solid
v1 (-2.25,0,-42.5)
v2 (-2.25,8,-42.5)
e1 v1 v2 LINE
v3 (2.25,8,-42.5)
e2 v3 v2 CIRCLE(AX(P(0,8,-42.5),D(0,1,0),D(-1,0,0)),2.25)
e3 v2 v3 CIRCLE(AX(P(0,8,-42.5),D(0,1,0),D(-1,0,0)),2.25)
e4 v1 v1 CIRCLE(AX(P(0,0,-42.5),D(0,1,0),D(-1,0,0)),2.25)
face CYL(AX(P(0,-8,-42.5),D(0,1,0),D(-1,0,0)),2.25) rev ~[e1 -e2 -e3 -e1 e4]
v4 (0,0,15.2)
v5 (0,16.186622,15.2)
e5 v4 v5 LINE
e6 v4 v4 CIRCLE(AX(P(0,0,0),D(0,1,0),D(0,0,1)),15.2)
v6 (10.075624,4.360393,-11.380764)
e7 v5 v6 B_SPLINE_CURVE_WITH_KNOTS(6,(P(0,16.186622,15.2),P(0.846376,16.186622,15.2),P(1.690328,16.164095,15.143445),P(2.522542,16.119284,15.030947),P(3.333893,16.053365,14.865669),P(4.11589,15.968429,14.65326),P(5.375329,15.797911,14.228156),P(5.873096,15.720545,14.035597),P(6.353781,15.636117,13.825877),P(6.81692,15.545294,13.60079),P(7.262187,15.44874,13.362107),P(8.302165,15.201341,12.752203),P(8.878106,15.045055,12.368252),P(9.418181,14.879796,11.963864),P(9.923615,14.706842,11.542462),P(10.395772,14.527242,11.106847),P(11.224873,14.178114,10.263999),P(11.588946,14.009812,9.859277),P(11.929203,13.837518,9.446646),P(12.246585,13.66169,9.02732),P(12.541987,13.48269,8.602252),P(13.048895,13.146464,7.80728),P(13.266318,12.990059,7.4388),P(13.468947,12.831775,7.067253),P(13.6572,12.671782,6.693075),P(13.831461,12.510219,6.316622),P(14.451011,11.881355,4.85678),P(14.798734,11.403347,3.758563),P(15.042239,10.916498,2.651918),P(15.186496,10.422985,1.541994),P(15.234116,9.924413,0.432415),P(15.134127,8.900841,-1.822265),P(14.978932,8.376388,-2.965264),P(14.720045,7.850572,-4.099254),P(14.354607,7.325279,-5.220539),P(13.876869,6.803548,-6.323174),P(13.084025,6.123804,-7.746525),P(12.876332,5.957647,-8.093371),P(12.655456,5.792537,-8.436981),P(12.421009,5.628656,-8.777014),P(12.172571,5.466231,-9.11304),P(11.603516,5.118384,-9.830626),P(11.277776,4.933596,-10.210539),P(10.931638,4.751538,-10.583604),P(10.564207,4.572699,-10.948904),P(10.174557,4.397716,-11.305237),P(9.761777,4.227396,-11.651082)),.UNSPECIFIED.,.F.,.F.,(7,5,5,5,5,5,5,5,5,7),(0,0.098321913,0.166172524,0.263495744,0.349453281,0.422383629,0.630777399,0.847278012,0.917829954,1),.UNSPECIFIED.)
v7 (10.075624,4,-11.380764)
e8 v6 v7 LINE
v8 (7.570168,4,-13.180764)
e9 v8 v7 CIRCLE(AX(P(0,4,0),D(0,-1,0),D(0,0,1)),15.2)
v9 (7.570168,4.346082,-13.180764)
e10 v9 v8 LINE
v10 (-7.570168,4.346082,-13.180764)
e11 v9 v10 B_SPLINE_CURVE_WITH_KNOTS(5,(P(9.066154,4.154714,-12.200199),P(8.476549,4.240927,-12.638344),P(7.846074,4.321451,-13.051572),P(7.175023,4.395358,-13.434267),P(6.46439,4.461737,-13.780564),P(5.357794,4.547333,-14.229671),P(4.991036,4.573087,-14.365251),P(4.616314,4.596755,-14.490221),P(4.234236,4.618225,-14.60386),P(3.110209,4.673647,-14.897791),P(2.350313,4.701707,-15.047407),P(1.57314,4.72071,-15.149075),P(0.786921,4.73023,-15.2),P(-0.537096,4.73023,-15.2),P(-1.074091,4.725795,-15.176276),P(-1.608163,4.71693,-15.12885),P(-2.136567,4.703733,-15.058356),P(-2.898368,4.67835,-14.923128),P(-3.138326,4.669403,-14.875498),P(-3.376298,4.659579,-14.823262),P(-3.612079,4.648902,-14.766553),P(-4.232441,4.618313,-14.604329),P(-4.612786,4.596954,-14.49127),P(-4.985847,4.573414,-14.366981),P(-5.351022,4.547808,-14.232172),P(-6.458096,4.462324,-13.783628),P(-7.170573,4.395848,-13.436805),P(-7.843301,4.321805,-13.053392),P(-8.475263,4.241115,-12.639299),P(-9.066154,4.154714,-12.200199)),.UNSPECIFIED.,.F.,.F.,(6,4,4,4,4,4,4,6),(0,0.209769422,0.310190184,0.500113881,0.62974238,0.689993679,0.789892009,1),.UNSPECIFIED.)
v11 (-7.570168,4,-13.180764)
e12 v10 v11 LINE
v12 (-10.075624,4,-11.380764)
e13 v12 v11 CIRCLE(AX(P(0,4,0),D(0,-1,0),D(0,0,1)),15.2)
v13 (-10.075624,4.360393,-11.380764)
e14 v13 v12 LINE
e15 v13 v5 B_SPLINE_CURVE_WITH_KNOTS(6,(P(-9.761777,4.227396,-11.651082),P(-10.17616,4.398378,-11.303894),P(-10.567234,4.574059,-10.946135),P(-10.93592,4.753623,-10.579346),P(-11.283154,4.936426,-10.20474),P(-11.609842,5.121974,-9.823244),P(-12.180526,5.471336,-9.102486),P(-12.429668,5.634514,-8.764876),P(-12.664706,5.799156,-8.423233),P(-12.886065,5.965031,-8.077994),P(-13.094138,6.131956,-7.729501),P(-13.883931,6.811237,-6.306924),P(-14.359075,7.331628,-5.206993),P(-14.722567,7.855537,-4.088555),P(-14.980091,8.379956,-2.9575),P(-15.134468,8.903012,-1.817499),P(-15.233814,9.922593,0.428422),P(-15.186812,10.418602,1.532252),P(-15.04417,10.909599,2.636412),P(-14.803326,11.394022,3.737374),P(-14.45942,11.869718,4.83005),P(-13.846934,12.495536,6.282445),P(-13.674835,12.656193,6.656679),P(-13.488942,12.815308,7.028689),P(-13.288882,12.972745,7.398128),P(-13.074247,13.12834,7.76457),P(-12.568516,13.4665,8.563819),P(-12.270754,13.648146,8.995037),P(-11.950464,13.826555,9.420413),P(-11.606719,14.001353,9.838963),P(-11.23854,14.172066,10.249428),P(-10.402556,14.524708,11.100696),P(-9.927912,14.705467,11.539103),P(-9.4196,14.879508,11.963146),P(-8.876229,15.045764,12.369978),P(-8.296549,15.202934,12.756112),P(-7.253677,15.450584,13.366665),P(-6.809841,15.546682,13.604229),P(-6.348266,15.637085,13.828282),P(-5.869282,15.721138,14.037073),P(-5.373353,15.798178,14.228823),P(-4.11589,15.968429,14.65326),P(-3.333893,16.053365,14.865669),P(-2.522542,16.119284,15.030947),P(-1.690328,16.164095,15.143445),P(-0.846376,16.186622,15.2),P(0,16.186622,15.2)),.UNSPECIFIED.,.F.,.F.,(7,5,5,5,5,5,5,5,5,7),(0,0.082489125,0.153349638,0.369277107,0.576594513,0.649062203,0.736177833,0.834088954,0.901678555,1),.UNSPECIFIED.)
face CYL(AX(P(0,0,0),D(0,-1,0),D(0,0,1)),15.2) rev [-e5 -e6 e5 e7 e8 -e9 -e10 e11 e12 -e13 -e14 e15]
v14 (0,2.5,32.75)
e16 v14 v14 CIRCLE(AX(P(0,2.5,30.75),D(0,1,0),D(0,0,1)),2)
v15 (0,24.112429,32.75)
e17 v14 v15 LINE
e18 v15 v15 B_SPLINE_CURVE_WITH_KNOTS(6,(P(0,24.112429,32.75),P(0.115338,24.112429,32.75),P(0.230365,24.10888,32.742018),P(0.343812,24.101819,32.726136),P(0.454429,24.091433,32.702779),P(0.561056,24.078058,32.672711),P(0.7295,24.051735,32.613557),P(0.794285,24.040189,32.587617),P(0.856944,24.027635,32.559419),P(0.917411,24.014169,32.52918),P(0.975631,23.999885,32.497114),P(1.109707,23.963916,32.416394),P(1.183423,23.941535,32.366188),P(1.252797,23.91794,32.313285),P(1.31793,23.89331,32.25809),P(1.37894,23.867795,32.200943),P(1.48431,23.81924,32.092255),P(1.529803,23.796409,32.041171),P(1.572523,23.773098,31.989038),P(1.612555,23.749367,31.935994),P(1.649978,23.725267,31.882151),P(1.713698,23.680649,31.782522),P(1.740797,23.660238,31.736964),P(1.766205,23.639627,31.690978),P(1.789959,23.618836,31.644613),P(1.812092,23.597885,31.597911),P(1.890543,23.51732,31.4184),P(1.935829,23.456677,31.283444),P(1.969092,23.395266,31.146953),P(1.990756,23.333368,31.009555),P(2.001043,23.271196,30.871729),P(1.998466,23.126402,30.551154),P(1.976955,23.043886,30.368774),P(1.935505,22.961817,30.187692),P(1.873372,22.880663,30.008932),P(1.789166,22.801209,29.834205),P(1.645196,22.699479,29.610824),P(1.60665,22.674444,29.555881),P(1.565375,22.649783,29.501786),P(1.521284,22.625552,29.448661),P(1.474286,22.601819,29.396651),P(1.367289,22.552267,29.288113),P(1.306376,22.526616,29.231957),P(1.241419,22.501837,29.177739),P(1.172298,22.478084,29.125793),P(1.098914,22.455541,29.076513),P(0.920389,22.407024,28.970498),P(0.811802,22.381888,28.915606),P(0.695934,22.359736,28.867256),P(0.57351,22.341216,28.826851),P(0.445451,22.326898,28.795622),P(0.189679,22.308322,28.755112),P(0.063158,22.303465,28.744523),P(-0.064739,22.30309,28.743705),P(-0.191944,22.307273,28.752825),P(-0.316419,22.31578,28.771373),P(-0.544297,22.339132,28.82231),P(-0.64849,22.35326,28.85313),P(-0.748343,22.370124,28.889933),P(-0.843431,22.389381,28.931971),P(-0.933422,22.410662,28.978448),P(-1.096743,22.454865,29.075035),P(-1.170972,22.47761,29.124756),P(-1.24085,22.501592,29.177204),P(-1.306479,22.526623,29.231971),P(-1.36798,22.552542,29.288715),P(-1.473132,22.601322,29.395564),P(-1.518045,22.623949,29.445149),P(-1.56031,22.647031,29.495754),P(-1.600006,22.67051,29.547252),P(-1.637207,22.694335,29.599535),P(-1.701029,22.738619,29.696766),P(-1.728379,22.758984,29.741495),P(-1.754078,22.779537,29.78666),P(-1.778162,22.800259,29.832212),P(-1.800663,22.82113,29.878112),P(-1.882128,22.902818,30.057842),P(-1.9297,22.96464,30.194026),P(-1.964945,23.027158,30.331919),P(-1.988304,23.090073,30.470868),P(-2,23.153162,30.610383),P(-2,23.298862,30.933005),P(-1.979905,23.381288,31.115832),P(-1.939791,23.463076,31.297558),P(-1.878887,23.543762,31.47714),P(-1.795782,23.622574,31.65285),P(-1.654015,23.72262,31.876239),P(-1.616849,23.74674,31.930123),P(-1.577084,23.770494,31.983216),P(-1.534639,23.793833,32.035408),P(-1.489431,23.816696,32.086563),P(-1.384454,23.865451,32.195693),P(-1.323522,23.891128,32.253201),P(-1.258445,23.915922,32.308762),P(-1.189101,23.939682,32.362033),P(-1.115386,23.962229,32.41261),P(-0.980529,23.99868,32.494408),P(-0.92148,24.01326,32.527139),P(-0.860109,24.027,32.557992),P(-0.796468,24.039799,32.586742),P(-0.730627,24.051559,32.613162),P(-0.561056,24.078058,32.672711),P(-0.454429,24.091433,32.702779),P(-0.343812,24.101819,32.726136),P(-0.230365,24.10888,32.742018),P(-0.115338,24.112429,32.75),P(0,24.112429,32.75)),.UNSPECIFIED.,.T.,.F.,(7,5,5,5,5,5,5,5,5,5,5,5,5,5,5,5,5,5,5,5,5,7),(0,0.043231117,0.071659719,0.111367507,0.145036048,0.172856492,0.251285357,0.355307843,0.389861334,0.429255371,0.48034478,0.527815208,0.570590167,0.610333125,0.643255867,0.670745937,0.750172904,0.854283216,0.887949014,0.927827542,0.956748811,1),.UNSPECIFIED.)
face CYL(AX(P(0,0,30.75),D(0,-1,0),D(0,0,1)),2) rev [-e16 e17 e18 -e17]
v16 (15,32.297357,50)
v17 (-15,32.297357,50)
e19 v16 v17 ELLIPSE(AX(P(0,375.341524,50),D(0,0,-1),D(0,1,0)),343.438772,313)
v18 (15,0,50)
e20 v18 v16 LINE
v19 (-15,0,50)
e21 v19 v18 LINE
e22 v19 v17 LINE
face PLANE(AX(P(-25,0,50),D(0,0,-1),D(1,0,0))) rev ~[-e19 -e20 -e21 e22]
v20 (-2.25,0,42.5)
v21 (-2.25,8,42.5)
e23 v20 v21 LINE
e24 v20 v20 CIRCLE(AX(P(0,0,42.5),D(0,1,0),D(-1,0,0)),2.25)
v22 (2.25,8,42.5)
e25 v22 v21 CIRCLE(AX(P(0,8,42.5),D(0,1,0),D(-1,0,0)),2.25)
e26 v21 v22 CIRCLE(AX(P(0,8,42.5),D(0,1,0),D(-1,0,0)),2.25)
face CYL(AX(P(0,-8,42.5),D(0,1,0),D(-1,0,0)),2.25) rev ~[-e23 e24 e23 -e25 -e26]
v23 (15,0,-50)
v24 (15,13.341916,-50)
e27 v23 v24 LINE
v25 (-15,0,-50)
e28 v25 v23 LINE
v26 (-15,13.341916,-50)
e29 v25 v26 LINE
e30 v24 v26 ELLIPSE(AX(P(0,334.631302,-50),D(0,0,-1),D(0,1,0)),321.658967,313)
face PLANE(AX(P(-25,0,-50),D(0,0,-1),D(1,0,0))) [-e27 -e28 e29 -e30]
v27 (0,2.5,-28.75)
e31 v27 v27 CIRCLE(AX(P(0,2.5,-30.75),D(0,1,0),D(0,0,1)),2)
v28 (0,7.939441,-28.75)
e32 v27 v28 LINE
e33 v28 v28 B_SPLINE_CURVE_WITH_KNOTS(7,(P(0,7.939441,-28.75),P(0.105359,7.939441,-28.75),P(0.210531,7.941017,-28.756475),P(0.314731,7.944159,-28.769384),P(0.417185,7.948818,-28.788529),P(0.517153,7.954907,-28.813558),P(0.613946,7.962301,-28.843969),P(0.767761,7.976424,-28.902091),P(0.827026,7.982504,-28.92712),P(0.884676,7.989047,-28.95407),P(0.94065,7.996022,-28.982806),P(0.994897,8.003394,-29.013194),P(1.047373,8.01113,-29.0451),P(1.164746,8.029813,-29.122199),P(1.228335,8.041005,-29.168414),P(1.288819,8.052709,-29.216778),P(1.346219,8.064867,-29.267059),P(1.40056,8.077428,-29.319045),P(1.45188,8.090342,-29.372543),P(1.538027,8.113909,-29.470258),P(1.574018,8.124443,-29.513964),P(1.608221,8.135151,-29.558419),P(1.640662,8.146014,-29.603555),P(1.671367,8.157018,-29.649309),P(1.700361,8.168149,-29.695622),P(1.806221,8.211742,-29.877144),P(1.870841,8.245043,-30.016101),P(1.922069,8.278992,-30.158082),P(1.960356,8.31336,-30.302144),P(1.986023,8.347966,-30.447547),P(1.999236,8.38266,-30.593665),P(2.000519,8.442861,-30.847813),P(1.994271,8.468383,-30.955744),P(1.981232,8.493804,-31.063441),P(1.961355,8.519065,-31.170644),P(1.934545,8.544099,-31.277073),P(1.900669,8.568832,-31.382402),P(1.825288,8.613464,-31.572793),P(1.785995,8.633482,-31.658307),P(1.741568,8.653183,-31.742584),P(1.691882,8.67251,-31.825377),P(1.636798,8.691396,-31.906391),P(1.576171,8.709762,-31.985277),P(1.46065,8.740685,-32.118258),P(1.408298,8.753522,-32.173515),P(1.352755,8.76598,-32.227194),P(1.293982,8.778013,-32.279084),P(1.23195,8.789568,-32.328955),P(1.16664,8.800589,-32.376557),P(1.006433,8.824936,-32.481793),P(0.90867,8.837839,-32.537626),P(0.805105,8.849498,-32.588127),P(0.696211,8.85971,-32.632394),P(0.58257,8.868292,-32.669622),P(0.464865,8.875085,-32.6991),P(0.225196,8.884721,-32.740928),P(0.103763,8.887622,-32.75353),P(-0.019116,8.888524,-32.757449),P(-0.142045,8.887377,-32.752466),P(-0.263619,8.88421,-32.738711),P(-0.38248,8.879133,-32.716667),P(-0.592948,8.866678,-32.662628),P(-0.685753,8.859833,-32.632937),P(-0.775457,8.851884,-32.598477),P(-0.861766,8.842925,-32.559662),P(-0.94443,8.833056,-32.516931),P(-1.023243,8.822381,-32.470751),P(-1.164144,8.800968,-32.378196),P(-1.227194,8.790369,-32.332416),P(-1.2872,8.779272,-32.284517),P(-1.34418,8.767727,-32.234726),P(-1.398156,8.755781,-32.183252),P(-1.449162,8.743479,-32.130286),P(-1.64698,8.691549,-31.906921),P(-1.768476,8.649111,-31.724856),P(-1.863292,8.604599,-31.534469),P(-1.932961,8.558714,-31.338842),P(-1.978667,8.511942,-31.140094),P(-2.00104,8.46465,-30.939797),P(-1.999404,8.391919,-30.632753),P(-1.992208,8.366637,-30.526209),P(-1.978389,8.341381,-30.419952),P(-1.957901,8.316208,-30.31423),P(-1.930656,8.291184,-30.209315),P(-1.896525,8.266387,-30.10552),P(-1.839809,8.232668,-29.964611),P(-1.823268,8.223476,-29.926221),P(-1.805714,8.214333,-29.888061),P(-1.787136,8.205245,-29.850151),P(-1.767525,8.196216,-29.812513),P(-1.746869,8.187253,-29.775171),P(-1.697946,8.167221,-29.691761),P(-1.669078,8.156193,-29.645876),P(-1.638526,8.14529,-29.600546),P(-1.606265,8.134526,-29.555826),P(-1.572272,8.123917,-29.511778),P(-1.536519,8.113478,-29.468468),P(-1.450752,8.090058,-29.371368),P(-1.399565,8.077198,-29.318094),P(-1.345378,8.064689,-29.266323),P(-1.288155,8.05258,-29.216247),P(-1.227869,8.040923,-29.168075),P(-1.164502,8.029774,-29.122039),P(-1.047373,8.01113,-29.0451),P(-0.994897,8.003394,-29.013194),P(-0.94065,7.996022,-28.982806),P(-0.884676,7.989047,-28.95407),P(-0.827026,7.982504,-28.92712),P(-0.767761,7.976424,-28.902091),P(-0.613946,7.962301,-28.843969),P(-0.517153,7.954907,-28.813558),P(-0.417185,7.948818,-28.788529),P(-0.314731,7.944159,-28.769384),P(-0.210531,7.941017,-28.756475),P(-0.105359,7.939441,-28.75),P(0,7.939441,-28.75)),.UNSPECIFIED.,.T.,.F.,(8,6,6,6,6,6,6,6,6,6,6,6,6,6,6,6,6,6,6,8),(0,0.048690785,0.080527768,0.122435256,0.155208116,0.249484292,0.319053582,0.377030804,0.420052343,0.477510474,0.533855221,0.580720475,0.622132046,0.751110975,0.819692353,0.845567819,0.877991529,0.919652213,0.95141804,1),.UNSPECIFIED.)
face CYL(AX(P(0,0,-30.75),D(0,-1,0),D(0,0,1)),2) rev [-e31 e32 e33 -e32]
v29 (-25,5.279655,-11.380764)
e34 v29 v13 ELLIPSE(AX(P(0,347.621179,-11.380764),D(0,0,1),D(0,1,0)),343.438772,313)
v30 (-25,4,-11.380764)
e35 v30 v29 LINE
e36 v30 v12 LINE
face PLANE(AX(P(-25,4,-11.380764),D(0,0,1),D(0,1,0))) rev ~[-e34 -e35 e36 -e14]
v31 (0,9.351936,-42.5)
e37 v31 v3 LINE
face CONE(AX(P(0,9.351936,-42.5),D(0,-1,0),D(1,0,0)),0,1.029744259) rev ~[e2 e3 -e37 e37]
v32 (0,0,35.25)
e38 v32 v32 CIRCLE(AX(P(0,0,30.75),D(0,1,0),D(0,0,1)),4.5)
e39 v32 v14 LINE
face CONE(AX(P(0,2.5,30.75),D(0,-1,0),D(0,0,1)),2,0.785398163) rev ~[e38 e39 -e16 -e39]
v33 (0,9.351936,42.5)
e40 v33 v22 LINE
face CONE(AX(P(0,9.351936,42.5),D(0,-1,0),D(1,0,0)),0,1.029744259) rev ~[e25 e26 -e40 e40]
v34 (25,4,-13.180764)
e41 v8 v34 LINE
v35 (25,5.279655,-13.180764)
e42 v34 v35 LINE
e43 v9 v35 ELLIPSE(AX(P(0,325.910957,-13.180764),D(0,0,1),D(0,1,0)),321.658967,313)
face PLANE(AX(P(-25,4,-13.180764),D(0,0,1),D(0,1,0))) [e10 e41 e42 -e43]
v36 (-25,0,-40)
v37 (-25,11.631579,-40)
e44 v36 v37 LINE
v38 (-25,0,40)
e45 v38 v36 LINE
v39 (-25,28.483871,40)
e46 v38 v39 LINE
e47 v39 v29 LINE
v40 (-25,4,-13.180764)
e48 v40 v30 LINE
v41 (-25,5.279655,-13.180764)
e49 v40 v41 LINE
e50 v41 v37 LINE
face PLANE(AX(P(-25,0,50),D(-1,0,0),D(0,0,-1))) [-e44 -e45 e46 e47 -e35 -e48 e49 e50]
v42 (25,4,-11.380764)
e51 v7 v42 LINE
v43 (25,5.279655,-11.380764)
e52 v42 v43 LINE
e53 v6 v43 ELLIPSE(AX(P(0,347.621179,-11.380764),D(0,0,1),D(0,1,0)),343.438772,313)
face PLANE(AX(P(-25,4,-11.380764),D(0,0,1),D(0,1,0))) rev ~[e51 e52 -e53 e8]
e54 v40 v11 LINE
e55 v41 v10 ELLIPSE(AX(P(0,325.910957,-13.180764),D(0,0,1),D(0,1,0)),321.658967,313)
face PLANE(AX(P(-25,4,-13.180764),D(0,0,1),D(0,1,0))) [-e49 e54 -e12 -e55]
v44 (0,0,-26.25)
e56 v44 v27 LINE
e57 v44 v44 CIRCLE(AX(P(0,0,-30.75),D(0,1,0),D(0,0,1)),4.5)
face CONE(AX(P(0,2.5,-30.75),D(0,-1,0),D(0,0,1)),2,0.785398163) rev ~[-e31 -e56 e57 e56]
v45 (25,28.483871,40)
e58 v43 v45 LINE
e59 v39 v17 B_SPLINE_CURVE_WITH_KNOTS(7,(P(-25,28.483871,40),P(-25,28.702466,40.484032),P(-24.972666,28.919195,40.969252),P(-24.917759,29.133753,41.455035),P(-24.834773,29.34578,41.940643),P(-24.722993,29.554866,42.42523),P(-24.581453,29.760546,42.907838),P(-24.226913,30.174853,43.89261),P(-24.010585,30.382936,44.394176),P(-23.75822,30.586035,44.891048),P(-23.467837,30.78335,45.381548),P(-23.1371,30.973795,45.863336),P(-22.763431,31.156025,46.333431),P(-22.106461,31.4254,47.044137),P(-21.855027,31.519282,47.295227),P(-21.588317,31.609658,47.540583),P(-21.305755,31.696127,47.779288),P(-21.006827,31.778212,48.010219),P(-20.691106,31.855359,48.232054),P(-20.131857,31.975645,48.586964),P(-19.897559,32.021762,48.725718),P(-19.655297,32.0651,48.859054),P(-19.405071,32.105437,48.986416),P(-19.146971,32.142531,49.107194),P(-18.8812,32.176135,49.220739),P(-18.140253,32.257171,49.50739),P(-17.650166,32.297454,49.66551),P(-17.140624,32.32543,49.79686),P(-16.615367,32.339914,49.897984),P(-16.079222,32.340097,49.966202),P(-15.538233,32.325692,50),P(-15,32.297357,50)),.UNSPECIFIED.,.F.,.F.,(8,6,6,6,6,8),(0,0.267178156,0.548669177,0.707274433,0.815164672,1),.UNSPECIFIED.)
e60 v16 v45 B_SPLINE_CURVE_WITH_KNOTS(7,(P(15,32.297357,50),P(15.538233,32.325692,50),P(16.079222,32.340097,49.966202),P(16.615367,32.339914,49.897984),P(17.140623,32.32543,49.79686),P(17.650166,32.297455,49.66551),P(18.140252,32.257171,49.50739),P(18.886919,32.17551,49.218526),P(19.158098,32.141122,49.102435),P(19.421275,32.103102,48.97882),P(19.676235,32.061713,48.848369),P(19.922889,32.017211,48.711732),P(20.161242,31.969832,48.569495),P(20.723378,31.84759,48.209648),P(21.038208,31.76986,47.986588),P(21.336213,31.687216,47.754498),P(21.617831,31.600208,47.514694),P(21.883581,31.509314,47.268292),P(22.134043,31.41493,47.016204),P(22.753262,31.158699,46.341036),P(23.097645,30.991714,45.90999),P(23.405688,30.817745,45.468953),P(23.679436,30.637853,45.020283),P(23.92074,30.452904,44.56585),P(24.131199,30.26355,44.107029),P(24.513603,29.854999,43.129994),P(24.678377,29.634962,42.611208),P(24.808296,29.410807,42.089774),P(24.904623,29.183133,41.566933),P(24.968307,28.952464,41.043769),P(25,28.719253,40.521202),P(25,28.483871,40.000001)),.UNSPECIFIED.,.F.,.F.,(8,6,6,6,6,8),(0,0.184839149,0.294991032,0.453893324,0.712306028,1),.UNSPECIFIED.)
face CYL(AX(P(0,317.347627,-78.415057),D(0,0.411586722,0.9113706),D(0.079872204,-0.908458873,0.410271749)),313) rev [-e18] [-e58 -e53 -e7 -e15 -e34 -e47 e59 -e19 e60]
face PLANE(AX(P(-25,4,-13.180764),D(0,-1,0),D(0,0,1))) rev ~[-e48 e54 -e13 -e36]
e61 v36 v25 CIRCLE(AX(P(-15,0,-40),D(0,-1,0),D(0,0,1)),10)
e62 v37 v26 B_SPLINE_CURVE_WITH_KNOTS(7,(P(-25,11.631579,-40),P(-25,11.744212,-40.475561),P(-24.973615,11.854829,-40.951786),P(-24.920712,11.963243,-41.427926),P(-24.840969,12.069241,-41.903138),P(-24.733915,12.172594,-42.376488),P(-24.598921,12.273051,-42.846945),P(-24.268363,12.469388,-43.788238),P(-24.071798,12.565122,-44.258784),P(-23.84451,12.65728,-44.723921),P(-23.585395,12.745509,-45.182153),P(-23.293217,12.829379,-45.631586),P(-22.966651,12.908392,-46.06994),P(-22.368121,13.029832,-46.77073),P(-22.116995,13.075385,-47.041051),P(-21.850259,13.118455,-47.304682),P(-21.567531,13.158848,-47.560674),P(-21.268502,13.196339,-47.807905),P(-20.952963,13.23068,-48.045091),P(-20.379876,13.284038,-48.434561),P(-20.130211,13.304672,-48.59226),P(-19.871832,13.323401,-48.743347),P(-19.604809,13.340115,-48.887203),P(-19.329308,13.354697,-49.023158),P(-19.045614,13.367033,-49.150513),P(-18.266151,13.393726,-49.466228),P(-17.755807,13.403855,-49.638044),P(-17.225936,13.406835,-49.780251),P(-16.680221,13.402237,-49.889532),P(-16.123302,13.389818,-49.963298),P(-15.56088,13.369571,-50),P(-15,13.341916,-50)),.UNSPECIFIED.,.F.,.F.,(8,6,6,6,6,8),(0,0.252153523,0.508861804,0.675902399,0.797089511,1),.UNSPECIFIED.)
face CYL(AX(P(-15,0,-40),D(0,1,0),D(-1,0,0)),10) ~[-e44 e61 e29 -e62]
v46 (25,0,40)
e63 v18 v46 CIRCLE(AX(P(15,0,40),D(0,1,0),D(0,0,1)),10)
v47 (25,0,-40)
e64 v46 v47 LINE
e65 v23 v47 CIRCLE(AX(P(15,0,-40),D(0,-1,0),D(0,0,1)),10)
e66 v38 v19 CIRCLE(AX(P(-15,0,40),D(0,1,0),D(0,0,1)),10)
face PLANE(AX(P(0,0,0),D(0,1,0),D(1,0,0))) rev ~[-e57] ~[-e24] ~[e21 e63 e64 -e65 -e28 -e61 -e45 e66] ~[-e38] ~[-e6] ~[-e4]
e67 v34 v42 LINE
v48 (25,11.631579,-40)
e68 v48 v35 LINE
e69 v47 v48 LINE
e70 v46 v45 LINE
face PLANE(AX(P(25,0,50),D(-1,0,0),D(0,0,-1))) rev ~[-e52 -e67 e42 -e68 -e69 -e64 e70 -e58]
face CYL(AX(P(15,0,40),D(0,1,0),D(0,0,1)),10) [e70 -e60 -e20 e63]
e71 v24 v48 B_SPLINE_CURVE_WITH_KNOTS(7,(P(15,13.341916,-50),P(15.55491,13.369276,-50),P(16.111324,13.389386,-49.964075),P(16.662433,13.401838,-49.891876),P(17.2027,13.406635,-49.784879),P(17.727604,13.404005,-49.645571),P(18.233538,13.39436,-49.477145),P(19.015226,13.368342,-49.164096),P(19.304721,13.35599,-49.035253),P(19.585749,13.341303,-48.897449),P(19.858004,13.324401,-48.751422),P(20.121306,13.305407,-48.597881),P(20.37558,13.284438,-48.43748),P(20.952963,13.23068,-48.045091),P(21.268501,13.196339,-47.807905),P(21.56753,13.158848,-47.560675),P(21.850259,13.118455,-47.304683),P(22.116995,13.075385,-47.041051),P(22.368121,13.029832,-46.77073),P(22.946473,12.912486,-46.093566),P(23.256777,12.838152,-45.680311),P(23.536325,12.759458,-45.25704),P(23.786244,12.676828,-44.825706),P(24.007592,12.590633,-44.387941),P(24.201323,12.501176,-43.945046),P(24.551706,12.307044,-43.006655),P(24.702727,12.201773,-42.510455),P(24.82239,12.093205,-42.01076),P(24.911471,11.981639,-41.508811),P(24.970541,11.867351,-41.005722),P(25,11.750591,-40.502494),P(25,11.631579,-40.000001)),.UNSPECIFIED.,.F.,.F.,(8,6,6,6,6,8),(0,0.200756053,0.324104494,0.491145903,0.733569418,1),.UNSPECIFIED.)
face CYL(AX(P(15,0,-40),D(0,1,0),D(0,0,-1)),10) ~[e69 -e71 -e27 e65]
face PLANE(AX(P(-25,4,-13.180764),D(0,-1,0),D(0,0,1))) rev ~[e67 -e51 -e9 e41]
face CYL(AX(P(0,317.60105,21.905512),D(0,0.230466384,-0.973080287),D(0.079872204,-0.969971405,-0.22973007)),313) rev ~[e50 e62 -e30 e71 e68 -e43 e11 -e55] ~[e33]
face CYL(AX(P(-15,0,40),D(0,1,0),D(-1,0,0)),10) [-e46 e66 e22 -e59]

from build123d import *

# Parameters (mm, degrees)
SKETCH1_W                      = 50
SKETCH1_H                      = 100
SKETCH1_R                      = 15.2
SKETCH1_R_2                    = 2
BOSS_EXTRUDE1_DEPTH            = 33
CUT_EXTRUDE1_DEPTH             = 79.0320447
CHAMFER1_SIZE                  = 2.5
CUT_EXTRUDE2_DEPTH             = 68.029405
CUT_EXTRUDE4_DEPTH             = 39.051248
SKETCH6_W                      = 1.8
SKETCH6_H                      = 1.279654747
CUT_EXTRUDE5_DEPTH             = 79.03204487
FILLET1_R                      = 10
F_4_5_4_5_DIAMETER_HOLE1_D     = 4.5
F_4_5_4_5_DIAMETER_HOLE1_DEPTH = 8
F_4_5_4_5_DIAMETER_HOLE1_TIP   = 1.351936393


with BuildPart() as part:
    # Sketch1 → Boss-Extrude1 (new body)
    with BuildSketch(Plane(origin=(0, 0, 0), x_dir=(1, 0, 0), z_dir=(0, 1, 0))):
        Rectangle(SKETCH1_W, SKETCH1_H)
        with Locations(Location((0, 0, 0), (0, 0, 270))):
            Circle(SKETCH1_R, mode=Mode.SUBTRACT)
        with Locations(Location((0, 30.75, 0), (0, 0, 270))):
            Circle(SKETCH1_R_2, mode=Mode.SUBTRACT)
        with Locations(Location((0, -30.75, 0), (0, 0, 270))):
            Circle(SKETCH1_R_2, mode=Mode.SUBTRACT)
    extrude(amount=BOSS_EXTRUDE1_DEPTH)

    # Sketch2 → Cut-Extrude1 (cut, through all)
    with BuildSketch(Plane(origin=(25, 0, 0), x_dir=(0, 0, -1), z_dir=(1, 0, 0))):
        Polygon((50, 14), (12, 5), (-50, 33), (50, 33), align=None)
    extrude(amount=-CUT_EXTRUDE1_DEPTH, mode=Mode.SUBTRACT)

    # Chamfer1
    chamfer1_edges = [part.edges().sort_by_distance(p)[0] for p in [
        (0, 0, -32.75),
        (0, 0, 28.75),
    ]]
    chamfer(chamfer1_edges, length=CHAMFER1_SIZE)

    # Sketch3 → Cut-Extrude2 (cut)
    with BuildSketch(Plane(origin=(0, 24.345721694, 53.908383751), x_dir=(-1, 0, 0), z_dir=(0, -0.4115867224264983, -0.9113705996586748))):
        with BuildLine():
            Line((25, 9.495893667), (-25, 9.495893667))
            ThreePointArc((-25, 9.495893667), (0, 8.495893667), (25, 9.495893667))
        make_face()
    extrude(amount=CUT_EXTRUDE2_DEPTH, mode=Mode.SUBTRACT)

    # Sketch4 → Cut-Extrude4 (cut)
    with BuildSketch(Plane(origin=(0, 11.956721311, -50.483934426), x_dir=(-1, 0, 0), z_dir=(0, 0.23046638387921348, -0.9730802874900093))):
        with BuildLine():
            Line((25, 2.099804831), (-25, 2.099804831))
            ThreePointArc((-25, 2.099804831), (0, 1.099804831), (25, 2.099804831))
        make_face()
    extrude(amount=-CUT_EXTRUDE4_DEPTH, mode=Mode.SUBTRACT)

    # Sketch6 → Cut-Extrude5 (cut, through all)
    with BuildSketch(Plane.ZY.offset(25)):
        with Locations((-12.280764488, 4.639827374)):
            Rectangle(SKETCH6_W, SKETCH6_H)
    extrude(amount=-CUT_EXTRUDE5_DEPTH, mode=Mode.SUBTRACT)

    # Fillet1
    fillet1_edges = [part.edges().sort_by_distance(p)[0] for p in [
        (25, 16.5, 50),
        (25, 7, -50),
        (-25, 7, -50),
        (-25, 16.5, 50),
    ]]
    fillet(fillet1_edges, radius=FILLET1_R)

    # Ø4.5 (4.5) Diameter Hole1
    with Locations(Plane.XZ):
        with Locations((0, 42.5), (0, -42.5)):
            Hole(F_4_5_4_5_DIAMETER_HOLE1_D / 2, depth=F_4_5_4_5_DIAMETER_HOLE1_DEPTH)
            with Locations((0, 0, -(F_4_5_4_5_DIAMETER_HOLE1_DEPTH + F_4_5_4_5_DIAMETER_HOLE1_TIP / 2))):  # 118° drill point
                Cone(0, F_4_5_4_5_DIAMETER_HOLE1_D / 2, F_4_5_4_5_DIAMETER_HOLE1_TIP, mode=Mode.SUBTRACT)


solid = part.part
